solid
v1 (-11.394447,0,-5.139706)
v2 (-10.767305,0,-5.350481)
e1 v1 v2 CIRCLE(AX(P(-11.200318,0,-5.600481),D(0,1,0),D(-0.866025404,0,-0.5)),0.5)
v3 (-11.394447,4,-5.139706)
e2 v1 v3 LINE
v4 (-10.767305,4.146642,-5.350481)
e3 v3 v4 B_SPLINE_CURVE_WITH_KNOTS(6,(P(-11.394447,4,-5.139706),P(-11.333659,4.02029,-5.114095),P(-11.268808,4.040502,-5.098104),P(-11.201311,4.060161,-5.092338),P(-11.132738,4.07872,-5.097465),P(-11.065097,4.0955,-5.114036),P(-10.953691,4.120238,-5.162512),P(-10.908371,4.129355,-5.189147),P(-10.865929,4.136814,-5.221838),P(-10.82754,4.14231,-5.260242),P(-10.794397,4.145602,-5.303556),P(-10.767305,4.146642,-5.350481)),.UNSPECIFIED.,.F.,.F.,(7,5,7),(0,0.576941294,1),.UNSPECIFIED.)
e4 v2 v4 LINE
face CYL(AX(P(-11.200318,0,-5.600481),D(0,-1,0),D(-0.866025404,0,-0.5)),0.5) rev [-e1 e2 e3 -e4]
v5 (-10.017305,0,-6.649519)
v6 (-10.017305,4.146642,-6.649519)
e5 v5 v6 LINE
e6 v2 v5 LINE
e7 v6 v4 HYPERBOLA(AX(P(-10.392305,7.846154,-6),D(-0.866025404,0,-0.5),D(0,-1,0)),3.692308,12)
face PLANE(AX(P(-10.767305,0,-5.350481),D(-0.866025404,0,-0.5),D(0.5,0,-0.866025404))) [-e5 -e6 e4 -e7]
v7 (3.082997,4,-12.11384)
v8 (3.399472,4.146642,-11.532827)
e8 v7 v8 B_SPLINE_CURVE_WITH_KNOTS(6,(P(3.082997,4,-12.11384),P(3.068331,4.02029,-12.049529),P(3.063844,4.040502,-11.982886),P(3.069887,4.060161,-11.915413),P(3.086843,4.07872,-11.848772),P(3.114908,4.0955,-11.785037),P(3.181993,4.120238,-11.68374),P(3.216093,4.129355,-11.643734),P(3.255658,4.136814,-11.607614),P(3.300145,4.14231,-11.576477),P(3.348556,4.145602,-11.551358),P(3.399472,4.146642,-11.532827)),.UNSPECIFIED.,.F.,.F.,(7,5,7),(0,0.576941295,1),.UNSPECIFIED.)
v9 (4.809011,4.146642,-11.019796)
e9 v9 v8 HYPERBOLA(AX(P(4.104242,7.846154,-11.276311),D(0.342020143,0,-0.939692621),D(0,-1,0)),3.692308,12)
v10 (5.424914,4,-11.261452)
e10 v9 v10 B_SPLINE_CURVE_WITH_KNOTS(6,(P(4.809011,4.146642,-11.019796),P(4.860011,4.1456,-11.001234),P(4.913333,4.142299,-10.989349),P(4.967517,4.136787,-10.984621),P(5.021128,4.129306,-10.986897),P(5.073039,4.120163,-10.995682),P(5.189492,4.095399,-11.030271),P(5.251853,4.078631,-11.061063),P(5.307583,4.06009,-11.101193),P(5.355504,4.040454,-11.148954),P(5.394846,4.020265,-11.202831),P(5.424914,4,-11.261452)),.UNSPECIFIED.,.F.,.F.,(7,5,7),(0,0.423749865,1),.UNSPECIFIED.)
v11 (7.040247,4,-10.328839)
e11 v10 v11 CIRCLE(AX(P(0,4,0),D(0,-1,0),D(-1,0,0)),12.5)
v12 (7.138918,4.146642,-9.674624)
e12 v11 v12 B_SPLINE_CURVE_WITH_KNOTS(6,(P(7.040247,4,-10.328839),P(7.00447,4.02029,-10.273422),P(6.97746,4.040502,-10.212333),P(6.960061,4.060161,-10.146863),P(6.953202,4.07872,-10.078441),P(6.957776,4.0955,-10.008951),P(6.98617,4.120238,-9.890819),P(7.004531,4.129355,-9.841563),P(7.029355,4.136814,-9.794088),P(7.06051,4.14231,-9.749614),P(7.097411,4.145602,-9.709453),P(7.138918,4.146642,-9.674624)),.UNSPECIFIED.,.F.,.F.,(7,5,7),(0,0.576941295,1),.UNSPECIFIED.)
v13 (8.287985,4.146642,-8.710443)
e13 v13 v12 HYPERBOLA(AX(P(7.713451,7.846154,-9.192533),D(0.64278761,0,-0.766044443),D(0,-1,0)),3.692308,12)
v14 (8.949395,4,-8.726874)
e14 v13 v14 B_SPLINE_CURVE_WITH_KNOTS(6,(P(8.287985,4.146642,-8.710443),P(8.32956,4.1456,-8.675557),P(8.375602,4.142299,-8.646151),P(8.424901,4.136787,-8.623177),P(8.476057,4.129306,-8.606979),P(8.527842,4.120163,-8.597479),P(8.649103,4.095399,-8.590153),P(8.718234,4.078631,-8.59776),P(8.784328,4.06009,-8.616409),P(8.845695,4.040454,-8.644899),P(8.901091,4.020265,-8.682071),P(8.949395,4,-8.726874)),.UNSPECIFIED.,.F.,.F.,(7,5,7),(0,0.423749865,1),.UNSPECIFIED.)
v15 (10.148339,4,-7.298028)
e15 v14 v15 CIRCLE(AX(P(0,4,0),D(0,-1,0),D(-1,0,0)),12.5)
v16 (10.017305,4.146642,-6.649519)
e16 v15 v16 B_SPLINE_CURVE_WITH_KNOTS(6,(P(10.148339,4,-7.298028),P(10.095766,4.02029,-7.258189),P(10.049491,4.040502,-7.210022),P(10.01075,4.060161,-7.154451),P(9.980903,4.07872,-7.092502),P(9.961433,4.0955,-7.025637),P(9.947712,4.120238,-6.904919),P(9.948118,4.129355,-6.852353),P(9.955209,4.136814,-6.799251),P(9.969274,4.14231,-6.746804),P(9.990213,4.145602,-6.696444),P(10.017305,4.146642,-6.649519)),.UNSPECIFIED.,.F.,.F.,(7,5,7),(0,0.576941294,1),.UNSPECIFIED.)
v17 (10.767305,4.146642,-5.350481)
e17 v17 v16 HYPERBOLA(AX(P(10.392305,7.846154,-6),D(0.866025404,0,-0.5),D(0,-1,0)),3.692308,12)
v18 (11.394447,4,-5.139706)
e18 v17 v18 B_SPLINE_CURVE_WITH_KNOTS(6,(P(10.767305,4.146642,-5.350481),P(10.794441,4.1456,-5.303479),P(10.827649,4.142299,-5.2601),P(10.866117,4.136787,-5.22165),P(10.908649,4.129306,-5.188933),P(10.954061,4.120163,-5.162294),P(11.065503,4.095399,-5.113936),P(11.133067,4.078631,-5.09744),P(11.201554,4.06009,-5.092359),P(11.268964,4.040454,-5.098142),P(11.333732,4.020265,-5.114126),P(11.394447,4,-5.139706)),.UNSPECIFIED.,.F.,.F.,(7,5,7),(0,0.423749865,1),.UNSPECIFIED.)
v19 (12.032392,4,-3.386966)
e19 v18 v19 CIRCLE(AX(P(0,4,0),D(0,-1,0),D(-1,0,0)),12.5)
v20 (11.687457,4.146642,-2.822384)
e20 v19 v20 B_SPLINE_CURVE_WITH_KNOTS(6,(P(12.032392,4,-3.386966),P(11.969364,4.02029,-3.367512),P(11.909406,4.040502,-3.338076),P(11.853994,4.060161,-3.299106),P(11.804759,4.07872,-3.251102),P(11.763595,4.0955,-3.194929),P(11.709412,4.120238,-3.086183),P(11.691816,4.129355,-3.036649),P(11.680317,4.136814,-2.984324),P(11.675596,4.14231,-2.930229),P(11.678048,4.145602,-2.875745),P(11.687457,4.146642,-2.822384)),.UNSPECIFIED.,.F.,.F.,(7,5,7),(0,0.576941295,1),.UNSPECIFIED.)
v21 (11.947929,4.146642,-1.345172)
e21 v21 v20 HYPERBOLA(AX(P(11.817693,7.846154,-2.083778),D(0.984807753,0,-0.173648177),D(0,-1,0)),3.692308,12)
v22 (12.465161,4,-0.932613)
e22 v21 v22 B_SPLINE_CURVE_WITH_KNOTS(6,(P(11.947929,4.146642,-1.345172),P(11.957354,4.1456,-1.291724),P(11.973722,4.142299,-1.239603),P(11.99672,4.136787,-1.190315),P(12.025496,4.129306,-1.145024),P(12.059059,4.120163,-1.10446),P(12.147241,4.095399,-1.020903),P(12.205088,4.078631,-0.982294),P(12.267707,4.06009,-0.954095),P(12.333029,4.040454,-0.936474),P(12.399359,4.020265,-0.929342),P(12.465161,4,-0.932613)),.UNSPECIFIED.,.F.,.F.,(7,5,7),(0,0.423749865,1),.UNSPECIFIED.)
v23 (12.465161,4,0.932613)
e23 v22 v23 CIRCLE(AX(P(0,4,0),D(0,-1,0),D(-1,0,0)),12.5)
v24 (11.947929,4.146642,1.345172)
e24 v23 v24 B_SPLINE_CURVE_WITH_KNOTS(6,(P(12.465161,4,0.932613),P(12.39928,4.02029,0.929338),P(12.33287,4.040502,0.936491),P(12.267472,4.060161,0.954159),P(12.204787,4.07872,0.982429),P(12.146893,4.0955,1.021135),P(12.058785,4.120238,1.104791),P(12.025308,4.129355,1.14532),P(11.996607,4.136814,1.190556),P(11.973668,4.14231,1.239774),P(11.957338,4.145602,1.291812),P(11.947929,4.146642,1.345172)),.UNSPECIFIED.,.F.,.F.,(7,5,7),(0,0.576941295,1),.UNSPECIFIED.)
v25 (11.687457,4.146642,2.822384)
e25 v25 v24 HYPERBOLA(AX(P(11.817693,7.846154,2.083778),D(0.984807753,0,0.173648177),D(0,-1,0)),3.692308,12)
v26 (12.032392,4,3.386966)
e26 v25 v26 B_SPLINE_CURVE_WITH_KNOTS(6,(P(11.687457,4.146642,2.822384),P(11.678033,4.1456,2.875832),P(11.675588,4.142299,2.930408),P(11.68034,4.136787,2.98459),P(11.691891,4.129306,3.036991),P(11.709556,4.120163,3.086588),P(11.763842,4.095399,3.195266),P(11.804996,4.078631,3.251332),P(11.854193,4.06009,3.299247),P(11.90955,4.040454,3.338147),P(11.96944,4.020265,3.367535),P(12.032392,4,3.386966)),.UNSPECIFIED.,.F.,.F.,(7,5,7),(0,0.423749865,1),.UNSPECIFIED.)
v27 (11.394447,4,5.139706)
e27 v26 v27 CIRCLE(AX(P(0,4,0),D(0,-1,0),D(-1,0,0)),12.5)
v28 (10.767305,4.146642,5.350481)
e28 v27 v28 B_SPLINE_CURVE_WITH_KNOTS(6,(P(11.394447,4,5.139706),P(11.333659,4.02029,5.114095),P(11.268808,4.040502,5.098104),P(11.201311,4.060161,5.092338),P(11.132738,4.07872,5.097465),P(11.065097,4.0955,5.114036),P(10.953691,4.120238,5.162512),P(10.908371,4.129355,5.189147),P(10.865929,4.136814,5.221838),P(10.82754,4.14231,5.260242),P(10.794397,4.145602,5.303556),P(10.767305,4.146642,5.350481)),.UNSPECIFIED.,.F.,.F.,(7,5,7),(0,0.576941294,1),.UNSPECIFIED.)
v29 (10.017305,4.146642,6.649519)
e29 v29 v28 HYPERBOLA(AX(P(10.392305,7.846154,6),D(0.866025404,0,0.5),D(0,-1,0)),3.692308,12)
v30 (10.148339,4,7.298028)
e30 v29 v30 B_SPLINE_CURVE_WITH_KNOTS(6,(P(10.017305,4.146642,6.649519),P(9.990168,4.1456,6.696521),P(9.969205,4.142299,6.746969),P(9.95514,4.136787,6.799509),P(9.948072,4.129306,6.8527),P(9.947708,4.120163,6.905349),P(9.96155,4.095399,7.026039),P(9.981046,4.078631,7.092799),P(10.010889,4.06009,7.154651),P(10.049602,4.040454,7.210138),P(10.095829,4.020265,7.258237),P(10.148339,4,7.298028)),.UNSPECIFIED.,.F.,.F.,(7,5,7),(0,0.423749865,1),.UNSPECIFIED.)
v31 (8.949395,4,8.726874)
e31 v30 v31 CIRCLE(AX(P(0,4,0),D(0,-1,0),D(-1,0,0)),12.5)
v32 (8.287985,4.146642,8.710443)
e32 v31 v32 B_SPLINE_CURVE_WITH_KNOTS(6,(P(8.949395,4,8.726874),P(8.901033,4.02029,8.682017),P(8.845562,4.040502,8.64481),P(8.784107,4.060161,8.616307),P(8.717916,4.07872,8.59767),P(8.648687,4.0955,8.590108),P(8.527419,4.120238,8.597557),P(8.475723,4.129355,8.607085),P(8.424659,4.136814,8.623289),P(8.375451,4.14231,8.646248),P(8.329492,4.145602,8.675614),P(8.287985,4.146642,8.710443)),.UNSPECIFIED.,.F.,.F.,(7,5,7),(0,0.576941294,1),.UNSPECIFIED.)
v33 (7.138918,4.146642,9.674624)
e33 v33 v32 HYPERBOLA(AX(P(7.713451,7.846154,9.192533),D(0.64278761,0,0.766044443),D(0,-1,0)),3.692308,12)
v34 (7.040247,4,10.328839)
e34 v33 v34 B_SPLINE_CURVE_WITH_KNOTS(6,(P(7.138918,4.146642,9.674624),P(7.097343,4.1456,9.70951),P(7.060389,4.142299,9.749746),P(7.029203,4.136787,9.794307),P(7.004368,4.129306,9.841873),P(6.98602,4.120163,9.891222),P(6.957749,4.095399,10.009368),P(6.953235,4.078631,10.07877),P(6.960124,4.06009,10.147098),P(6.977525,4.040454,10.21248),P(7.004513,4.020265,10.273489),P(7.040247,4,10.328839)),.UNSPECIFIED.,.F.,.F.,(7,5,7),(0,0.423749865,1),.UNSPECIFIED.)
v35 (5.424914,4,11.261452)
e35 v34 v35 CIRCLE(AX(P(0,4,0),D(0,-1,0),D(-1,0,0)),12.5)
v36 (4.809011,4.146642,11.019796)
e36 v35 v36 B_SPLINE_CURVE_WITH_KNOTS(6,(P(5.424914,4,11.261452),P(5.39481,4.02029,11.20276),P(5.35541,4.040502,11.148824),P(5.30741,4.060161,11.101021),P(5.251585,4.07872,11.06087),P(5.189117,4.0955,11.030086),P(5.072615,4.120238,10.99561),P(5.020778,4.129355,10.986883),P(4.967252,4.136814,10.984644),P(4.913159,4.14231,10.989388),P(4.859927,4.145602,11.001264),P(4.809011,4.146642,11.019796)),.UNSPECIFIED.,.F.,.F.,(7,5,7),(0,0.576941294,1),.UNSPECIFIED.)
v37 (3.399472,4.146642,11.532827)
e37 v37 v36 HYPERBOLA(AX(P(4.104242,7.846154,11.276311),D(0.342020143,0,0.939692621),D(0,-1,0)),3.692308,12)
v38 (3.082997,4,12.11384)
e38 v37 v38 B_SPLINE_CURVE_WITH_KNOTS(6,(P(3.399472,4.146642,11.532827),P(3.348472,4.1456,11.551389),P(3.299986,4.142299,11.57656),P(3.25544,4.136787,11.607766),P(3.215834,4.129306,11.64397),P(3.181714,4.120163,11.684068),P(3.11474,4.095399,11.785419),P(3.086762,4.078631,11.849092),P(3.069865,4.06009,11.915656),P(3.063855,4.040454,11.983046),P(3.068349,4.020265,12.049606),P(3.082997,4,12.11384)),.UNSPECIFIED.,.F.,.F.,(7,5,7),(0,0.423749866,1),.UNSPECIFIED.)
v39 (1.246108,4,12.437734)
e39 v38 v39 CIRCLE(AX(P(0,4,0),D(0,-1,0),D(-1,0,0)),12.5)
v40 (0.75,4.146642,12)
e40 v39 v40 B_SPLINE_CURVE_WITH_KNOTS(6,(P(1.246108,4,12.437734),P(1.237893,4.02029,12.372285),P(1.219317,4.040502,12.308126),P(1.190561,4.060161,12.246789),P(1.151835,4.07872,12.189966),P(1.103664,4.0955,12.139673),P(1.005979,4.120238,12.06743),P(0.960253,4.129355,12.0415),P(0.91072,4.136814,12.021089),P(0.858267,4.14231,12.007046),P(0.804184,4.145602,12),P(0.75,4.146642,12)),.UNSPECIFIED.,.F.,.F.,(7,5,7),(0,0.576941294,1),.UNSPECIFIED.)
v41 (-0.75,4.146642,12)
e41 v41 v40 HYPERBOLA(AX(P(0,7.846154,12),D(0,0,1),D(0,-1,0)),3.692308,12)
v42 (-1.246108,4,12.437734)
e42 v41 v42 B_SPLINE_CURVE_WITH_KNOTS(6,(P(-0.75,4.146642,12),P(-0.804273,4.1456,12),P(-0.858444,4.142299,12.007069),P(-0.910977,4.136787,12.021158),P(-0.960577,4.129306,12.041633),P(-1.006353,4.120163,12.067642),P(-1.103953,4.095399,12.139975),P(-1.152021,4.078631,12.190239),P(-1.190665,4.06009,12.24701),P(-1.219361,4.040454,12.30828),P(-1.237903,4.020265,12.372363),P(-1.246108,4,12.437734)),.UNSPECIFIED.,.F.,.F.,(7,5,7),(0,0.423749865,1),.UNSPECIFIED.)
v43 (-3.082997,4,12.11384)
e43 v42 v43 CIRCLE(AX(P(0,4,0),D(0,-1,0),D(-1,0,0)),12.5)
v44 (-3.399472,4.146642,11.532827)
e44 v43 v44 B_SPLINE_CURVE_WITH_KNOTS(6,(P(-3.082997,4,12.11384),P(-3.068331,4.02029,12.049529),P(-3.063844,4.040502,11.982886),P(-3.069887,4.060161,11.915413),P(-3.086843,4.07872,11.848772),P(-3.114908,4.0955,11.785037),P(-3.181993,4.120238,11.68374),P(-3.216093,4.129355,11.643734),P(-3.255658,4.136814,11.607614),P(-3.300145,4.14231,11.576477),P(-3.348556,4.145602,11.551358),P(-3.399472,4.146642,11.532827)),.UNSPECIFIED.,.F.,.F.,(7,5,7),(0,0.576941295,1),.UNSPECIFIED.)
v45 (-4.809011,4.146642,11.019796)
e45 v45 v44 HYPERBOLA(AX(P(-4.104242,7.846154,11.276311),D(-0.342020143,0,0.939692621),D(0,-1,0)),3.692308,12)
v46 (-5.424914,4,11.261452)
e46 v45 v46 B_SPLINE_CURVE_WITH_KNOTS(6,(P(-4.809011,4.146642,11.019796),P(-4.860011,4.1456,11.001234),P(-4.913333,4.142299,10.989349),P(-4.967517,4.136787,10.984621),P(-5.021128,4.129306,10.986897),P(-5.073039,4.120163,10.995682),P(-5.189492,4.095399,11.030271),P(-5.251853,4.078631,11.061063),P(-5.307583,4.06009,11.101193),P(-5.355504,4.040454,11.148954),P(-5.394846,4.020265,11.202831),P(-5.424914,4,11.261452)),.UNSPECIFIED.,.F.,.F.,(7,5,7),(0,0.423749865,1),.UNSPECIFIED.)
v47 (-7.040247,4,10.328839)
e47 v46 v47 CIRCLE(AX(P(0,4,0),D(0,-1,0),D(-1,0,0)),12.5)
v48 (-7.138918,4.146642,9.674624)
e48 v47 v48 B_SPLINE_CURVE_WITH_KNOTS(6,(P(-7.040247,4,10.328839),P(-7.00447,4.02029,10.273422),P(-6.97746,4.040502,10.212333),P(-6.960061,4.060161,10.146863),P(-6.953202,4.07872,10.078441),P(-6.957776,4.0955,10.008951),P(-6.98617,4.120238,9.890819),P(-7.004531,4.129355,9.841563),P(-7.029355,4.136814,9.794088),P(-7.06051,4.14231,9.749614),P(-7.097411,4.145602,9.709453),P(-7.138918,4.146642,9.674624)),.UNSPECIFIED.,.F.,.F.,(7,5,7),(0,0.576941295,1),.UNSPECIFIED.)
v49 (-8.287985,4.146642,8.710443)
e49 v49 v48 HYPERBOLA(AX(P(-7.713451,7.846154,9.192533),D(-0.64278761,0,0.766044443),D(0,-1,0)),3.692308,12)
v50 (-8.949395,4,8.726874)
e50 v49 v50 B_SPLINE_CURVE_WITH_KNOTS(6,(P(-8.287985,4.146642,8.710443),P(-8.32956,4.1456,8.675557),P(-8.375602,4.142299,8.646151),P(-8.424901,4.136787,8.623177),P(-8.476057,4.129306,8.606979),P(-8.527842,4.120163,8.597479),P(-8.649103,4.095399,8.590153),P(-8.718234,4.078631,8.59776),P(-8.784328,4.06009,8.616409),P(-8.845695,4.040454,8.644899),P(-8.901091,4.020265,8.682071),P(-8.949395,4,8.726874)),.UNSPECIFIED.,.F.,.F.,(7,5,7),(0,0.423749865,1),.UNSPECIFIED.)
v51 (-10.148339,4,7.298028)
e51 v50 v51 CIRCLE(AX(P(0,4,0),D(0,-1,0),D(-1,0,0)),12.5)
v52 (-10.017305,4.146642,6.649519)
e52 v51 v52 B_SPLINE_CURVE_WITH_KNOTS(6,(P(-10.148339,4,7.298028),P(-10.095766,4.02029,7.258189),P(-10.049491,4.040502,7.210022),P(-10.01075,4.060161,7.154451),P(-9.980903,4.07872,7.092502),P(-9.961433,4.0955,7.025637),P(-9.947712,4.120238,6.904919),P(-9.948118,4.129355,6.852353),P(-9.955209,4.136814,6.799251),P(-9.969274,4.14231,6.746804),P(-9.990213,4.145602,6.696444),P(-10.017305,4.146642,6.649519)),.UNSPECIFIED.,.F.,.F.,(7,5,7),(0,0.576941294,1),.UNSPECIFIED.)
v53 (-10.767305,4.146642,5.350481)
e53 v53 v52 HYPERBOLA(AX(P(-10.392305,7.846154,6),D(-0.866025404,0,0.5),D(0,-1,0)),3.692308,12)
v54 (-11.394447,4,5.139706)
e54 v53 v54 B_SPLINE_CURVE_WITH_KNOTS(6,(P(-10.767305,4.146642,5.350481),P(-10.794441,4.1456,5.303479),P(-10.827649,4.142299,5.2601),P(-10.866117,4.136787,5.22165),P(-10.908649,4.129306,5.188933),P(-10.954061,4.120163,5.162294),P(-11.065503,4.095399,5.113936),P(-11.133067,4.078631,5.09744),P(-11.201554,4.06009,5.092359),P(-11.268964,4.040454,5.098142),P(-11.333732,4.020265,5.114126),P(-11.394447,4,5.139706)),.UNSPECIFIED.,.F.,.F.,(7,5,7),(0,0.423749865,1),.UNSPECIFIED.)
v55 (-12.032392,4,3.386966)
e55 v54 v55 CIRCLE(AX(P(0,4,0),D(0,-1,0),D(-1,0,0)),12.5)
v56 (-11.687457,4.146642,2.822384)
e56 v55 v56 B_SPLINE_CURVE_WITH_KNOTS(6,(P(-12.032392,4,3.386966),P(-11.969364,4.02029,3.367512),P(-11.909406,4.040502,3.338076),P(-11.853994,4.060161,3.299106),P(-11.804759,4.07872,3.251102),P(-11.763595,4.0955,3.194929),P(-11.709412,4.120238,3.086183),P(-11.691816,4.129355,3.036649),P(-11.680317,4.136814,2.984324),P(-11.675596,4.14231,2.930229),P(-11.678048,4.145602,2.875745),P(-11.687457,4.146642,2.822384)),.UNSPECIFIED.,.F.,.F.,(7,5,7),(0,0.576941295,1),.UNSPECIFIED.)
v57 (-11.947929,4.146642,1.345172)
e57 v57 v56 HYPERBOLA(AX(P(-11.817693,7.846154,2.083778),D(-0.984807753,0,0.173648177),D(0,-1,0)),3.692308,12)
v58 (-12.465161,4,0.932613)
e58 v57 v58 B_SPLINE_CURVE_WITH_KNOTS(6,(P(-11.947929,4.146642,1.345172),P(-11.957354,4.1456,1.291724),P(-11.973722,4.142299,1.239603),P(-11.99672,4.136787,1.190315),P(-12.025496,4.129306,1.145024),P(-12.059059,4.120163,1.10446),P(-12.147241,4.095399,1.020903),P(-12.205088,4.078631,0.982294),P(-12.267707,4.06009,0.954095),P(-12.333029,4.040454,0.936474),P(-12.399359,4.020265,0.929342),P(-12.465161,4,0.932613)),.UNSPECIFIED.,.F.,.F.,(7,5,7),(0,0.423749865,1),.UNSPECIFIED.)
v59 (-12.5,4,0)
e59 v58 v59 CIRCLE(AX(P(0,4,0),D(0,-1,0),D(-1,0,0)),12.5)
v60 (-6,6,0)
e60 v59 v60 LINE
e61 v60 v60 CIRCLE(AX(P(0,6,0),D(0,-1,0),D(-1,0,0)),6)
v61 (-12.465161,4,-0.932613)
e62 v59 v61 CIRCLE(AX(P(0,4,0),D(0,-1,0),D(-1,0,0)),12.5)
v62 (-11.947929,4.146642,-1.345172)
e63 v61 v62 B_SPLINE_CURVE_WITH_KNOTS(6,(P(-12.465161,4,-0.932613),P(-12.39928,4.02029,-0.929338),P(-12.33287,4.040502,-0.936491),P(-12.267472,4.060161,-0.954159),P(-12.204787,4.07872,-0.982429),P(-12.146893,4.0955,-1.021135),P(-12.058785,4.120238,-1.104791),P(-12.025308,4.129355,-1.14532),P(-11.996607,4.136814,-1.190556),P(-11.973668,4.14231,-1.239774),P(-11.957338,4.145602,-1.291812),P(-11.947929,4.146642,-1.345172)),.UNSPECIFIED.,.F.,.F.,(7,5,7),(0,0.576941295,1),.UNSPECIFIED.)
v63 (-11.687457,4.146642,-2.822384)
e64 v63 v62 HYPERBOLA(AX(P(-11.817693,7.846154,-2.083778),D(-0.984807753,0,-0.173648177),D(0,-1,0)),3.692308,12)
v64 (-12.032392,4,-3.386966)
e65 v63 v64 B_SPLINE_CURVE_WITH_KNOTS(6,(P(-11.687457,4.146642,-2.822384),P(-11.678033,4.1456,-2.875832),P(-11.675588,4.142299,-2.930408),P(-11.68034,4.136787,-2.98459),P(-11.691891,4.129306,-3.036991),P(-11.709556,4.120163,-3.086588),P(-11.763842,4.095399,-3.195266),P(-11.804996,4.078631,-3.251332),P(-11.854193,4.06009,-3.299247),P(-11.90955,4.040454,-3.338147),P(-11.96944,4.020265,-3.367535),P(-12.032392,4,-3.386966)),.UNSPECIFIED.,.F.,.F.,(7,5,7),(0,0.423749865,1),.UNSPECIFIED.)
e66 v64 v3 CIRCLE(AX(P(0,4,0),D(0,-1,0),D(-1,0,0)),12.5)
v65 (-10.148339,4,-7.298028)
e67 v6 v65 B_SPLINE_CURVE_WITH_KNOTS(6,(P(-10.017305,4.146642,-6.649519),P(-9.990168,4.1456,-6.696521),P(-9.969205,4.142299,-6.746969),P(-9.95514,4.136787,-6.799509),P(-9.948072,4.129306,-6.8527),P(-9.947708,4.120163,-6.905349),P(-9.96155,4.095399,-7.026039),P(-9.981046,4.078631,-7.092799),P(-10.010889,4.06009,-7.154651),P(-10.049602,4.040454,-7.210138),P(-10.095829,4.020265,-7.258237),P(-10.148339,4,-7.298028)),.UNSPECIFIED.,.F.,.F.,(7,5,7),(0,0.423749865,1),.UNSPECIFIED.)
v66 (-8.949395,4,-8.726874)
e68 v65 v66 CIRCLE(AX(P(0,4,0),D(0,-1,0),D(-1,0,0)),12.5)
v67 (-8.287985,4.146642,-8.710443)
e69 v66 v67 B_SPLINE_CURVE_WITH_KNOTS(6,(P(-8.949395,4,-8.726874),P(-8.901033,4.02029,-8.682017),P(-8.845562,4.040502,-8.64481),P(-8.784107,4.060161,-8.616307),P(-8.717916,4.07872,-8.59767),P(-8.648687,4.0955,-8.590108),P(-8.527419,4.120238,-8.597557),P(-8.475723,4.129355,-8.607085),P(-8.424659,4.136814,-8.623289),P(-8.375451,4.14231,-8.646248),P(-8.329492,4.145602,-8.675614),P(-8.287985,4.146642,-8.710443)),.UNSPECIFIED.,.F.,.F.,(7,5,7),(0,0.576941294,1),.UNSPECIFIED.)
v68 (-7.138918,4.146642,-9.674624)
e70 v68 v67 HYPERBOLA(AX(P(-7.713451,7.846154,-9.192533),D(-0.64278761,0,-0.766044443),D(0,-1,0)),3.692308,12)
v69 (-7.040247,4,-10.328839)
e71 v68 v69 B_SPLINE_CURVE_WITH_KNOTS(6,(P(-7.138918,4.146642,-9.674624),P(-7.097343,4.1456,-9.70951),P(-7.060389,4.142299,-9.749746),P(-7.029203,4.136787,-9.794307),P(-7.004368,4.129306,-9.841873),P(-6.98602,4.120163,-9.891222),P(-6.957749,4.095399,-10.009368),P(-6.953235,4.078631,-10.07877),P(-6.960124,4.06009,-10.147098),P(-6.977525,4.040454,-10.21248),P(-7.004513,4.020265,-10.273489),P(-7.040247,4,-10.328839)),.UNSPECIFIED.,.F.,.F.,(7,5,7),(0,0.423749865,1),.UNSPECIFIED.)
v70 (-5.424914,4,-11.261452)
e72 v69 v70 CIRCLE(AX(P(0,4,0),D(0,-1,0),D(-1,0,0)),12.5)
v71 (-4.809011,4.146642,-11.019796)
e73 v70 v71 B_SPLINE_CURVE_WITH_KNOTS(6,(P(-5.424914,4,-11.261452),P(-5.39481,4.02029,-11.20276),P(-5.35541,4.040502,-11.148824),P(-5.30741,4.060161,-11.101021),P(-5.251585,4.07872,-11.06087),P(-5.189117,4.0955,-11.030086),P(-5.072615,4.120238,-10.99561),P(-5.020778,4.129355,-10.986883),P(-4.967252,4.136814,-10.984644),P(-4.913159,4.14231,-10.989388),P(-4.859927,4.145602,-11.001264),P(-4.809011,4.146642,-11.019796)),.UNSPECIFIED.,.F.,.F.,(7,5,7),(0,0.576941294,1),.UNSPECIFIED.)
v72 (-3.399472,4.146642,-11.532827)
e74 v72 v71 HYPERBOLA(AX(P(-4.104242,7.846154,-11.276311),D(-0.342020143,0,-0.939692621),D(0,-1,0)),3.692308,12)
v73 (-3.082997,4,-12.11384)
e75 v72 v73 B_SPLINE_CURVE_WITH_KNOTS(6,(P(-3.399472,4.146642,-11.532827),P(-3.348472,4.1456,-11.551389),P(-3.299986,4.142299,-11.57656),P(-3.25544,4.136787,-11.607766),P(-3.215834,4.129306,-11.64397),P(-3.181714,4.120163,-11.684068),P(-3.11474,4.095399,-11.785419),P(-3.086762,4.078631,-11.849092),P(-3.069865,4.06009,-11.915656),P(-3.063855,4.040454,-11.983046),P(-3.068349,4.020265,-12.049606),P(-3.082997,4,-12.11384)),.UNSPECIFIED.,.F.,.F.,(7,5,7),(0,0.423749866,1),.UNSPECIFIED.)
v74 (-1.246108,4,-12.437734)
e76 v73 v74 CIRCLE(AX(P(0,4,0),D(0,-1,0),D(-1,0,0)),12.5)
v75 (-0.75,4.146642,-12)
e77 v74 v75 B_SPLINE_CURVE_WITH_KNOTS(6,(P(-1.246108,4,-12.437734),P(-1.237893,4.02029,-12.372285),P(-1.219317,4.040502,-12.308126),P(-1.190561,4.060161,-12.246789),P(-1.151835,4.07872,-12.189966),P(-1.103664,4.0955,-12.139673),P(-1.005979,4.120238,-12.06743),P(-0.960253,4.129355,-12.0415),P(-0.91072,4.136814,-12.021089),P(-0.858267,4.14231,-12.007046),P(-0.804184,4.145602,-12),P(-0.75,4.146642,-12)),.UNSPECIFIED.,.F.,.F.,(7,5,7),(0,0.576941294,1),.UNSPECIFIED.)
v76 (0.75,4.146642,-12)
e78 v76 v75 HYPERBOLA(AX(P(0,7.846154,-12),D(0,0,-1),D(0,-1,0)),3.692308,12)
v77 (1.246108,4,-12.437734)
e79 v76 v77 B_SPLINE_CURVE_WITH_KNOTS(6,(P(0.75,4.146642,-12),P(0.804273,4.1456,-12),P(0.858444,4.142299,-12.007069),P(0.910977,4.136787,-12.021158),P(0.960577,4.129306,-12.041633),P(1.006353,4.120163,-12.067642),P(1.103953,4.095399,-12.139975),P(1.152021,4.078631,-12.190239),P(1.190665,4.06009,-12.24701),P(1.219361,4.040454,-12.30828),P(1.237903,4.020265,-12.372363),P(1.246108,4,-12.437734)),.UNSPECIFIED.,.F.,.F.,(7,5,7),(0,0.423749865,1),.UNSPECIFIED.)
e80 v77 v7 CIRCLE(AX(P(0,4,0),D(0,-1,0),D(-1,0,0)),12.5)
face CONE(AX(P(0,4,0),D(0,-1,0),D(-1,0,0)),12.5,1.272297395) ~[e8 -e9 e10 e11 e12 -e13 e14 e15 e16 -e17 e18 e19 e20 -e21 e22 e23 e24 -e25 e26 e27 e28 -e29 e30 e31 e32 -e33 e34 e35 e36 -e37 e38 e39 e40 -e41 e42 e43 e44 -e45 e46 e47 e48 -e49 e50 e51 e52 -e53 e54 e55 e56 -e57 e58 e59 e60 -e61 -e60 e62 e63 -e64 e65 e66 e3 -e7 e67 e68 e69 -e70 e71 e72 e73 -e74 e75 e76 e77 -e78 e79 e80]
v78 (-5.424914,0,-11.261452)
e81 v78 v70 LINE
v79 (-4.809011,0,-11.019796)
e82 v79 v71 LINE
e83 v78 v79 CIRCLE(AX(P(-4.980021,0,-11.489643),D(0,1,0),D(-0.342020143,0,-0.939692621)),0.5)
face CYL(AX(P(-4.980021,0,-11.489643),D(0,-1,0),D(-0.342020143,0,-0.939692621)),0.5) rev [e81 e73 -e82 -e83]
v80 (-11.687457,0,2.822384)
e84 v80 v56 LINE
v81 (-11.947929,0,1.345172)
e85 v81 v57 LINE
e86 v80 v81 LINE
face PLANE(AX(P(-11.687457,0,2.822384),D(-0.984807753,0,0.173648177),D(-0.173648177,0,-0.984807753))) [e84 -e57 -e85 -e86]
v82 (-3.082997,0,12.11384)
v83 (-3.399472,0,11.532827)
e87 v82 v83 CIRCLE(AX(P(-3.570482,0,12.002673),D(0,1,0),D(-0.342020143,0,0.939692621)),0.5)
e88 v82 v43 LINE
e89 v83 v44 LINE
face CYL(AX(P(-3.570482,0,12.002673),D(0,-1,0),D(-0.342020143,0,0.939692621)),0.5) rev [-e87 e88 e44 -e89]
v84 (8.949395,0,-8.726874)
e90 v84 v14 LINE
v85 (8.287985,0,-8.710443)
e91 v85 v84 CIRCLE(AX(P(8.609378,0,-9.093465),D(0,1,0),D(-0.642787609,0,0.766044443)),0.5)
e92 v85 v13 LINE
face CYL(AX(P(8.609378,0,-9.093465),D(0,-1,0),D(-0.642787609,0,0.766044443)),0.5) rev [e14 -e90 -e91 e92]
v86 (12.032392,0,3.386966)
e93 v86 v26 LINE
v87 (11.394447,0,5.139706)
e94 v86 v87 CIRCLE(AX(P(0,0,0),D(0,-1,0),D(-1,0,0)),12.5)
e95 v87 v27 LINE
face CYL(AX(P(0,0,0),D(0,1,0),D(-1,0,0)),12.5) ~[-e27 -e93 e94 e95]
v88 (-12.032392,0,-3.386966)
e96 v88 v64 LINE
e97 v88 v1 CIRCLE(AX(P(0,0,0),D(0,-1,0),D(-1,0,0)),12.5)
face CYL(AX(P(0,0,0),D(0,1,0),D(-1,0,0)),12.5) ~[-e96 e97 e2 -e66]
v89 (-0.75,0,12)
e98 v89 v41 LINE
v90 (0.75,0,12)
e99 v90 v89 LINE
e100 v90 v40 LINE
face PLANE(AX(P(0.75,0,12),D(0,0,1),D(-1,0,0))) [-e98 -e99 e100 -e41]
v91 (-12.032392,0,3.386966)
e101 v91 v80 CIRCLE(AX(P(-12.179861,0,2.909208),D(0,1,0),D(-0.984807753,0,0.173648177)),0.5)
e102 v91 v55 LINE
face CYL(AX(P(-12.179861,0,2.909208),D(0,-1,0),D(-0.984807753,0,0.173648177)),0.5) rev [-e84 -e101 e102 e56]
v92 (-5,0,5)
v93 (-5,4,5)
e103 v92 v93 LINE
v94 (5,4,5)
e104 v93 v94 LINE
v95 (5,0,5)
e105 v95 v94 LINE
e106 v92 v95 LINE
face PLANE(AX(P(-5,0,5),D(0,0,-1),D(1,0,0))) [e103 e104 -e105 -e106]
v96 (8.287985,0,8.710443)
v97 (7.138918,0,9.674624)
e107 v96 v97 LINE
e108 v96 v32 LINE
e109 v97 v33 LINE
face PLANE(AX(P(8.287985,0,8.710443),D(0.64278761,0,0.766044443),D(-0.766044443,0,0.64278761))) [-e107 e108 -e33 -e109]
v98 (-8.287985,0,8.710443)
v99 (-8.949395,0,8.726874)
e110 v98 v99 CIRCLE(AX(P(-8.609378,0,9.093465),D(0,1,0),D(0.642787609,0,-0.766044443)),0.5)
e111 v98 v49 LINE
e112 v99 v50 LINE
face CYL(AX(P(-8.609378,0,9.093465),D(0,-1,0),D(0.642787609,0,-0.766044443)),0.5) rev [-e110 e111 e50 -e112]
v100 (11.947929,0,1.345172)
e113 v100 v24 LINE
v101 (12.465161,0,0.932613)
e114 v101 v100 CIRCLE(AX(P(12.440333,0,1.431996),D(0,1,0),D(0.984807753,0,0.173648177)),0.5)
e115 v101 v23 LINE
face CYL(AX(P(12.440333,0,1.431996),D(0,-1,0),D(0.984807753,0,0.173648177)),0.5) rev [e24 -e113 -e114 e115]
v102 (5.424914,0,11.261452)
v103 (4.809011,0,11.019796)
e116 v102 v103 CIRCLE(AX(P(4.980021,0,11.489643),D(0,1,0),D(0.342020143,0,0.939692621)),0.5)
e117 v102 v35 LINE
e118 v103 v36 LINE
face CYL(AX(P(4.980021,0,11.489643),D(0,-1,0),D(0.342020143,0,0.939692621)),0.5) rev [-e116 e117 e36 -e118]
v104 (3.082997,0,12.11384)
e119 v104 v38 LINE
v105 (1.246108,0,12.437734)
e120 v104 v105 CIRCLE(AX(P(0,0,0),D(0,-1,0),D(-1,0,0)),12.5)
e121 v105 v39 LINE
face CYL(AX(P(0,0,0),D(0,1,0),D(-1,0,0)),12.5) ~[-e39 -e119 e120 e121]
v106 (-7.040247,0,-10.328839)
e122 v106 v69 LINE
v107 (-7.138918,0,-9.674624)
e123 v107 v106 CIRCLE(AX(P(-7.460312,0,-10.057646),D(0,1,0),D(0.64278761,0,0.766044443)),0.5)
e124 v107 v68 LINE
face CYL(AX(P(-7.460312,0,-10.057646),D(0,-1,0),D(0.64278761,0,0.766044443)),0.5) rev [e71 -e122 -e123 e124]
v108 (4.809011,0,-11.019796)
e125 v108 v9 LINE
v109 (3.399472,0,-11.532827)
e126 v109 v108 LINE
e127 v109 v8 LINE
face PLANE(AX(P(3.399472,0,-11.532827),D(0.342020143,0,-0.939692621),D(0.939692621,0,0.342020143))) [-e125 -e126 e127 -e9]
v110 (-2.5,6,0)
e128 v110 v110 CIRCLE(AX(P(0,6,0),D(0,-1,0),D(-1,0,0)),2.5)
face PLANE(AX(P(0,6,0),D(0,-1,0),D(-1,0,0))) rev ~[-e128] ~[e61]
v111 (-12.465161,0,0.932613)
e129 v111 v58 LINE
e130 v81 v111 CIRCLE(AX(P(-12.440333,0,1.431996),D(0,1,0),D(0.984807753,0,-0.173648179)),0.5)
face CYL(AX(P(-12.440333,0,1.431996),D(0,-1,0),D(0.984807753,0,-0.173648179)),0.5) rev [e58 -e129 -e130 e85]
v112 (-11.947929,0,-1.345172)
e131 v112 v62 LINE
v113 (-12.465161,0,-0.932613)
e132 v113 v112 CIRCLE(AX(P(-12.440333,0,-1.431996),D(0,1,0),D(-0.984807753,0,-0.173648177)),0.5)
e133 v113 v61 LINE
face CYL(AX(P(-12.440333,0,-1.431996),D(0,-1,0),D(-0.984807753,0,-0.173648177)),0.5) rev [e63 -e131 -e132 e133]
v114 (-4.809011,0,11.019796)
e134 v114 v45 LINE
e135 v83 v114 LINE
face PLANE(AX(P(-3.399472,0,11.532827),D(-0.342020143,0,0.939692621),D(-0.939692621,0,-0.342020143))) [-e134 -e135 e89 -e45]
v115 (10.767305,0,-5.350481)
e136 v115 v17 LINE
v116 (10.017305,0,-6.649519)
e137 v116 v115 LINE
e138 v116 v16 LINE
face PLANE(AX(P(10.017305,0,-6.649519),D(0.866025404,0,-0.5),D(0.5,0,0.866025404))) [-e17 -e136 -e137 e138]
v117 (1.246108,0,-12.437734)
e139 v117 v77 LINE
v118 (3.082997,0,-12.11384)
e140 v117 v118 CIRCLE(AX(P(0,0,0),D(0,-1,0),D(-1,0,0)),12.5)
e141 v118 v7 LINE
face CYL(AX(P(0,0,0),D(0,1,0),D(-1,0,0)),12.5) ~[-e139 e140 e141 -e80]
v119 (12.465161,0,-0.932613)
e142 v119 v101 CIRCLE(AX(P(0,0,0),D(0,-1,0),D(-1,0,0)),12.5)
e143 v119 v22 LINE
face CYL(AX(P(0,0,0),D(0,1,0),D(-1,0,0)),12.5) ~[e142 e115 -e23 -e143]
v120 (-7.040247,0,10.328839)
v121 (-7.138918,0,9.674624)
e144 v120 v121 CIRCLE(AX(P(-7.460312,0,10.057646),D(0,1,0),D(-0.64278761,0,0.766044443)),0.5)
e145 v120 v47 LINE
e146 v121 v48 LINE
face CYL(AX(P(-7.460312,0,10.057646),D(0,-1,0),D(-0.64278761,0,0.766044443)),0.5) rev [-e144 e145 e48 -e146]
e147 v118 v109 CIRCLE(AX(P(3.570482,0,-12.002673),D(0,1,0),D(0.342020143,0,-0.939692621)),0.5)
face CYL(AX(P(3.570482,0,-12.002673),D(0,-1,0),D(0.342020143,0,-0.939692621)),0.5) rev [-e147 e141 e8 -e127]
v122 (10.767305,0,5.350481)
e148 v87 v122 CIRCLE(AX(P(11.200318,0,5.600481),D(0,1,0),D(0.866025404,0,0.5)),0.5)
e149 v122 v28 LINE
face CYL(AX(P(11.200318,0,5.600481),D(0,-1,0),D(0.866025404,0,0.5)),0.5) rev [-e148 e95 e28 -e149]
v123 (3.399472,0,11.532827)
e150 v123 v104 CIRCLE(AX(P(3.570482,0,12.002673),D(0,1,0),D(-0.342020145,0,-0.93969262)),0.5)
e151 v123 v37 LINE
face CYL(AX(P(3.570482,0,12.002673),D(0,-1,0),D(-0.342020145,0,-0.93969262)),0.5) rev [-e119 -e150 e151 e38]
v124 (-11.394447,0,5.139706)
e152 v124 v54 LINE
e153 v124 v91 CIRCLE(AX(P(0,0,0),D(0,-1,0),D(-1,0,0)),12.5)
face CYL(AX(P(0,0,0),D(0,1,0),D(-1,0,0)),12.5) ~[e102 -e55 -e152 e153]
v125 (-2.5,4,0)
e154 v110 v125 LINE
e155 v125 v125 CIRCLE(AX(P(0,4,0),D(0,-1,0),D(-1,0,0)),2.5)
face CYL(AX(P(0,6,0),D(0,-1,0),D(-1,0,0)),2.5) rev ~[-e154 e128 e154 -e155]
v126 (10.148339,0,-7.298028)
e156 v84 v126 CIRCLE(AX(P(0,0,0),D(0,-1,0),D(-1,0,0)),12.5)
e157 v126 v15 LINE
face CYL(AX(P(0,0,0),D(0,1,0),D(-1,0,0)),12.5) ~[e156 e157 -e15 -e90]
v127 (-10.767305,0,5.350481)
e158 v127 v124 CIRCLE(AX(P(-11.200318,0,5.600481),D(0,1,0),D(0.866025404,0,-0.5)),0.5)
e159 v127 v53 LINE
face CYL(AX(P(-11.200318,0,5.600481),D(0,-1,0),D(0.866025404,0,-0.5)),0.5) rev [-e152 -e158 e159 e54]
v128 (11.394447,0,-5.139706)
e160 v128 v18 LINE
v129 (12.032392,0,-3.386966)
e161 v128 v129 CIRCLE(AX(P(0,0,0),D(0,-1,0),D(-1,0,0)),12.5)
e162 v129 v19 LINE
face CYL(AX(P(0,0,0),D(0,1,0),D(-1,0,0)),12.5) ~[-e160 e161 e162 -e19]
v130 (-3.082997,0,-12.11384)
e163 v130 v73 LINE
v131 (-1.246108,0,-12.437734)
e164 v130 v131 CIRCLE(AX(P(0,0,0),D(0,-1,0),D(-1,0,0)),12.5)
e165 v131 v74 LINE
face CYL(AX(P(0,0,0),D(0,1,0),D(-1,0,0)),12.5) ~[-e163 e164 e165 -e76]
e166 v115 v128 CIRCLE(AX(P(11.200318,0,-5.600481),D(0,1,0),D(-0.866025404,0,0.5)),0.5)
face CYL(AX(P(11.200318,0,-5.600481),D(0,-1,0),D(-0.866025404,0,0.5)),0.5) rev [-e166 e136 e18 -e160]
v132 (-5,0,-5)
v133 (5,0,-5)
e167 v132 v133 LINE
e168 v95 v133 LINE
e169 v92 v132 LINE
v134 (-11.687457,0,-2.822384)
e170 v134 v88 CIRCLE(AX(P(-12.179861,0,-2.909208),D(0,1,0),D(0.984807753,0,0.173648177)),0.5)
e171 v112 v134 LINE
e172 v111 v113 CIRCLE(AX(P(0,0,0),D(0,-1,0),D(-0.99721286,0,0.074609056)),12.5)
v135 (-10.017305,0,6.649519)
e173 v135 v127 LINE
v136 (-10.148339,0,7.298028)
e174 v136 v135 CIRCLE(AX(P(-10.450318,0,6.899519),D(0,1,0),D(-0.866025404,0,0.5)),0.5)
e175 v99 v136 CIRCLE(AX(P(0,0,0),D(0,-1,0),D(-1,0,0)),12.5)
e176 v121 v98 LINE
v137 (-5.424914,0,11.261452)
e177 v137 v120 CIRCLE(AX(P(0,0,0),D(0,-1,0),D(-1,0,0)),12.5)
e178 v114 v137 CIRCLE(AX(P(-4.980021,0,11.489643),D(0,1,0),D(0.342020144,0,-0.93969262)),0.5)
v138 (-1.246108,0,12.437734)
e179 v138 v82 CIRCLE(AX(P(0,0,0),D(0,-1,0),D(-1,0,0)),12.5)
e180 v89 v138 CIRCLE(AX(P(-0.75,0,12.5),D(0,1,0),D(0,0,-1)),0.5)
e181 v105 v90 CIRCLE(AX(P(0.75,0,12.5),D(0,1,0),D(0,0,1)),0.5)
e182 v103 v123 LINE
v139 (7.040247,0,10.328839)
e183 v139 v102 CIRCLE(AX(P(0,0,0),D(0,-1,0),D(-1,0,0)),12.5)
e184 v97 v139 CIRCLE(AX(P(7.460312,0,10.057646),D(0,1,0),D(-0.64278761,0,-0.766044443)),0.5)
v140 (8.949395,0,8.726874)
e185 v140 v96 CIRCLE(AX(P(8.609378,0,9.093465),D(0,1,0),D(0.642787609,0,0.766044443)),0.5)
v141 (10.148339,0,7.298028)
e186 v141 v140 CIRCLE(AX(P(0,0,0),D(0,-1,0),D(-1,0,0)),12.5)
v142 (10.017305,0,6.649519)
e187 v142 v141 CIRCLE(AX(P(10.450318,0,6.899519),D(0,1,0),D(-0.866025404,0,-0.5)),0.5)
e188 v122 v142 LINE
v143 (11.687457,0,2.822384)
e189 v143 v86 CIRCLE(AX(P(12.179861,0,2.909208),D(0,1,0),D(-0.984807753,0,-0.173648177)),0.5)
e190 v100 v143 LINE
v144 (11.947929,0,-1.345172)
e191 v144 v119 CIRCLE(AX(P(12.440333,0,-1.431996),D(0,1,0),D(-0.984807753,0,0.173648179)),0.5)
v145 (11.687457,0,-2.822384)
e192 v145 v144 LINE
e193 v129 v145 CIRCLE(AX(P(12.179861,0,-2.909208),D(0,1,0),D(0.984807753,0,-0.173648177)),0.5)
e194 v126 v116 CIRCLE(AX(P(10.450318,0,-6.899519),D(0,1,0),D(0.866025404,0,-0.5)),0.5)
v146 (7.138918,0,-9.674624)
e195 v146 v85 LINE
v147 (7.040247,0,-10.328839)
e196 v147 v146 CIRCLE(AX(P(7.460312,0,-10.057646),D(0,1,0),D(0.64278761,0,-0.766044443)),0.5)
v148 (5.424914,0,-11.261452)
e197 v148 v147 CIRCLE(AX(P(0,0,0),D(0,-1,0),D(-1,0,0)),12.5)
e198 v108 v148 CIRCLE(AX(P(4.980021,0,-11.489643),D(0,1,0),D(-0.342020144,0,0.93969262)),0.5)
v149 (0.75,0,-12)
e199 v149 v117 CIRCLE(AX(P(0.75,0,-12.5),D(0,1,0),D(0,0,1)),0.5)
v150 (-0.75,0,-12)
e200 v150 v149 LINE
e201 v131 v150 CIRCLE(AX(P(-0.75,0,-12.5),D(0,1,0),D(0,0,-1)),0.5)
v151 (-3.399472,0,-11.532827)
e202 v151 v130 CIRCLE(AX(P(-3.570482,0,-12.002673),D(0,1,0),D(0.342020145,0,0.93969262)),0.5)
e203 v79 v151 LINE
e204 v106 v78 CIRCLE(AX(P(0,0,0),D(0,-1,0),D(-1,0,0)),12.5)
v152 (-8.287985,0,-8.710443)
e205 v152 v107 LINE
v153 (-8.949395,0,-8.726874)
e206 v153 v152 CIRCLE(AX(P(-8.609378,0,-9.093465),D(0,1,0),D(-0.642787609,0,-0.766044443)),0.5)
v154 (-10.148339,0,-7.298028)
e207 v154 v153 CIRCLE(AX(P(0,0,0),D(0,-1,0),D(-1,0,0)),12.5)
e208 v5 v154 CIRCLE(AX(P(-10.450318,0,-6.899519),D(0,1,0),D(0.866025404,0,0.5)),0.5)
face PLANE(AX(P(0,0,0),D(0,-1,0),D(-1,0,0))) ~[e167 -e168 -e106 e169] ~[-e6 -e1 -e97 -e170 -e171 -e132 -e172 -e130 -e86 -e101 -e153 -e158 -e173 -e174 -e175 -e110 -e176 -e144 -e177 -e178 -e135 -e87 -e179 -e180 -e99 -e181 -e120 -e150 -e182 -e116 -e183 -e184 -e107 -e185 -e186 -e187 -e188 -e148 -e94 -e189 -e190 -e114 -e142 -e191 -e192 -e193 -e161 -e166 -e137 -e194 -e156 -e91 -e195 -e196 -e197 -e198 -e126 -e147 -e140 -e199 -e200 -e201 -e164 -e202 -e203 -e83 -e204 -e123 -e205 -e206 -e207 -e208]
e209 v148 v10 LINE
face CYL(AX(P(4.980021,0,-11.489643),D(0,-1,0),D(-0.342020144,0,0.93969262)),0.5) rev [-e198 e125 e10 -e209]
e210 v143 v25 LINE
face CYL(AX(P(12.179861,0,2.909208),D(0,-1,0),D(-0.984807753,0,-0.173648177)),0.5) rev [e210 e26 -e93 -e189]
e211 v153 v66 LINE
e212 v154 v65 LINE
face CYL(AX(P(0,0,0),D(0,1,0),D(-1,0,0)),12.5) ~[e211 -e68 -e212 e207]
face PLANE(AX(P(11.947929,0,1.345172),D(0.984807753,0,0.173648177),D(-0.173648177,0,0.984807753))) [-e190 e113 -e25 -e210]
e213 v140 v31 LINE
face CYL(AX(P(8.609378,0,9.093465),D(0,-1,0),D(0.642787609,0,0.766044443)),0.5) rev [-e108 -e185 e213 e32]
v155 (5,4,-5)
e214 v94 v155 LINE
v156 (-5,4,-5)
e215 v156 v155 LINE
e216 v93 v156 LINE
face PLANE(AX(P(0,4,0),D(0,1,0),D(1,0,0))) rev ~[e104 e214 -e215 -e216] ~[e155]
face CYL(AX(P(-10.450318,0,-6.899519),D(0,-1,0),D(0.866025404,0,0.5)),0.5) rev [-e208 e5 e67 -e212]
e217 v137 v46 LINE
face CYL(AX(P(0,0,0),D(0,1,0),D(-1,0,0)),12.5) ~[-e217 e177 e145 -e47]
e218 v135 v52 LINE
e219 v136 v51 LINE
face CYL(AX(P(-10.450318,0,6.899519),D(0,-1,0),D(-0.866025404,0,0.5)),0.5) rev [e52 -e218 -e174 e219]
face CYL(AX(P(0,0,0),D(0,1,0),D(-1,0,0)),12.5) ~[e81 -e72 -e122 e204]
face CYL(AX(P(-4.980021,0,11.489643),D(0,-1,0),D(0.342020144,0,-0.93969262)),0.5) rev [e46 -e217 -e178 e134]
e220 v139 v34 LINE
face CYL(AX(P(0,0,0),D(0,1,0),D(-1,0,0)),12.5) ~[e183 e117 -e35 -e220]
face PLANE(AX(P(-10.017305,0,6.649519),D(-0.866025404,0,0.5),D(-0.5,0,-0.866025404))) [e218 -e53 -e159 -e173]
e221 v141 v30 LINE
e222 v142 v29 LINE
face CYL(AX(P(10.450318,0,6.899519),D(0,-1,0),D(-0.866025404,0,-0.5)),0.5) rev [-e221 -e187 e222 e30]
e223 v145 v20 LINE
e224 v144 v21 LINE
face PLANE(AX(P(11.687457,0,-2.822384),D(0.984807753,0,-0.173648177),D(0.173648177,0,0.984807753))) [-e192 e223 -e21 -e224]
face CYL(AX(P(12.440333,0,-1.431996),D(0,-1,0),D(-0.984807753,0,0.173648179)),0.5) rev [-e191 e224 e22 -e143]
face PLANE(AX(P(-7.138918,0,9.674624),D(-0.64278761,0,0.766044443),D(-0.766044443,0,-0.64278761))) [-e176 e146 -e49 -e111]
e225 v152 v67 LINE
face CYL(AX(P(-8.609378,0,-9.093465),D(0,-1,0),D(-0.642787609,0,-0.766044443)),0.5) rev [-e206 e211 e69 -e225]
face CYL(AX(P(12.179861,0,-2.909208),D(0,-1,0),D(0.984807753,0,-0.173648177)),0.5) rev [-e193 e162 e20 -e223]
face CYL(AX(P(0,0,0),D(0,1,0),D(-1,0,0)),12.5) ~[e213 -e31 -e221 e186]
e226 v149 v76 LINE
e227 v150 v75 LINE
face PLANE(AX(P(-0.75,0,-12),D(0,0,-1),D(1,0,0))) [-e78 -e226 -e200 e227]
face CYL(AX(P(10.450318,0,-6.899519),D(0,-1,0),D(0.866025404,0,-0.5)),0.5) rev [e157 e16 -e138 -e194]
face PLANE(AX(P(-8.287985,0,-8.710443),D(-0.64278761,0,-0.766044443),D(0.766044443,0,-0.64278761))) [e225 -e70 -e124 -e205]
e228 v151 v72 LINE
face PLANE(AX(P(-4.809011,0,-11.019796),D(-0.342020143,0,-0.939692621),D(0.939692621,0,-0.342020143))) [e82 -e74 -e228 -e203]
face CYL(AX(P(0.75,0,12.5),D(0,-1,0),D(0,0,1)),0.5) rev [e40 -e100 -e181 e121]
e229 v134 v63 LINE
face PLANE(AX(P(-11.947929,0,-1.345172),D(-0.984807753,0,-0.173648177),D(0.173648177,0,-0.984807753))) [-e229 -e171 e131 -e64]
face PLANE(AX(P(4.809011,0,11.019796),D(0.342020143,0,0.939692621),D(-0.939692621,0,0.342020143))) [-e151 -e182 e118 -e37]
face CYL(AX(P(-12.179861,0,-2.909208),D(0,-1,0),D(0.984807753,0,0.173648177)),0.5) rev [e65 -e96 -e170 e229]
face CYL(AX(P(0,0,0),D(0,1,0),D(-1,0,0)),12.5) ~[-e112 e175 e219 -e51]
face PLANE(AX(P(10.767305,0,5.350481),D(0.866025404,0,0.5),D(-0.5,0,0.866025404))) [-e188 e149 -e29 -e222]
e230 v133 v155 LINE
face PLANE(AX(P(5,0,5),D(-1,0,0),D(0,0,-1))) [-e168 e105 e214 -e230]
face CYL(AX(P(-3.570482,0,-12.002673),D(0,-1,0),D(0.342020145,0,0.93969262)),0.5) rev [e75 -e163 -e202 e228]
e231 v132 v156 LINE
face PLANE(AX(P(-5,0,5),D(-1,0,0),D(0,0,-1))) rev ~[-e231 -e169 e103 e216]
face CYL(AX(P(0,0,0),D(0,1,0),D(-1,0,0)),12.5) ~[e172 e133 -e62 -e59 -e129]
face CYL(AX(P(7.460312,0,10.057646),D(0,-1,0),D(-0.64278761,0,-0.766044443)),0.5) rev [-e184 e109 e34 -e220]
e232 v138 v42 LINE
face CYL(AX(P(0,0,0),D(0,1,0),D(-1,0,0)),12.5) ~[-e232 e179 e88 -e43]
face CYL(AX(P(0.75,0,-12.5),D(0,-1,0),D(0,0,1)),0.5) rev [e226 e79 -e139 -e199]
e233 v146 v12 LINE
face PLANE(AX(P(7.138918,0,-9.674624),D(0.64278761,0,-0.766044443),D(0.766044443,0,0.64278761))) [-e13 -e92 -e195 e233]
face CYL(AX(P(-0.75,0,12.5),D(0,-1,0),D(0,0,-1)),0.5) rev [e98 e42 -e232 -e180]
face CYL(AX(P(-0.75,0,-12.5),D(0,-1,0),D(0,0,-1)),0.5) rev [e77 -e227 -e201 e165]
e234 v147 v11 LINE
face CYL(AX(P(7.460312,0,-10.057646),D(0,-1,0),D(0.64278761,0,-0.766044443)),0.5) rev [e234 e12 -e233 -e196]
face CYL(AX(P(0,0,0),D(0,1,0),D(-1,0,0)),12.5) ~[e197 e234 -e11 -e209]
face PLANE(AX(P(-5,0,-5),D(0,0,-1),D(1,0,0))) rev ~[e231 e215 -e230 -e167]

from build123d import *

# Parameters (mm, degrees)
CUT_EXTRUDE1_DEPTH = 10
SKETCH4_W          = 10
SKETCH4_H          = 10
CUT_EXTRUDE2_DEPTH = 4


with BuildPart() as part:
    # Sketch1 → Revolve1 (revolve)
    with BuildSketch(Plane.XY, mode=Mode.PRIVATE) as revolve1_sk:
        Polygon((2.5, 0), (12.5, 0), (12.5, 4), (6, 6), (2.5, 6), align=None)
    revolve(revolve1_sk.sketch.rotate(Axis((0, 6, 0), (0, -1, 0)), 180), axis=Axis((0, 6, 0), (0, -1, 0)))

    # Sketch2 → Cut-Extrude1 (cut)
    with BuildSketch(Plane.XZ):
        with BuildLine():
            Line((-0.75, 13), (0.75, 13))
            ThreePointArc((0.75, 13), (1.25, 12.5), (0.75, 12))
            Line((0.75, 12), (-0.75, 12))
            ThreePointArc((-0.75, 12), (-1.25, 12.5), (-0.75, 13))
        make_face()
        with BuildLine():
            Line((3.741492398, 12.472519178), (5.151031329, 11.959488963))
            ThreePointArc((5.151031329, 11.959488963), (5.449867568, 11.318632581), (4.809011185, 11.019796342))
            Line((4.809011185, 11.019796342), (3.399472254, 11.532826557))
            ThreePointArc((3.399472254, 11.532826557), (3.100636016, 12.173682939), (3.741492398, 12.472519178))
        make_face()
        with BuildLine():
            Line((7.781705594, 10.440668468), (8.930772258, 9.476487053))
            ThreePointArc((8.930772258, 9.476487053), (8.992400675, 8.772071027), (8.287984649, 8.71044261))
            Line((8.287984649, 8.71044261), (7.138917984, 9.674624025))
            ThreePointArc((7.138917984, 9.674624025), (7.077289567, 10.379040051), (7.781705594, 10.440668468))
        make_face()
        with BuildLine():
            Line((10.883330249, 7.149519053), (11.633330249, 5.850480947))
            ThreePointArc((11.633330249, 5.850480947), (11.450317547, 5.167468245), (10.767304845, 5.350480947))
            Line((10.767304845, 5.350480947), (10.017304845, 6.649519053))
            ThreePointArc((10.017304845, 6.649519053), (10.200317547, 7.332531755), (10.883330249, 7.149519053))
        make_face()
        with BuildLine():
            Line((12.672264656, 2.996032124), (12.932736922, 1.518820495))
            ThreePointArc((12.932736922, 1.518820495), (12.527157135, 0.93959253), (11.947929169, 1.345172317))
            Line((11.947929169, 1.345172317), (11.687456903, 2.822383947))
            ThreePointArc((11.687456903, 2.822383947), (12.093036691, 3.401611912), (12.672264656, 2.996032124))
        make_face()
        with BuildLine():
            Line((12.932736922, -1.518820495), (12.672264656, -2.996032124))
            ThreePointArc((12.672264656, -2.996032124), (12.093036691, -3.401611912), (11.687456903, -2.822383947))
            Line((11.687456903, -2.822383947), (11.947929169, -1.345172317))
            ThreePointArc((11.947929169, -1.345172317), (12.527157135, -0.93959253), (12.932736922, -1.518820495))
        make_face()
        with BuildLine():
            Line((11.633330249, -5.850480947), (10.883330249, -7.149519053))
            ThreePointArc((10.883330249, -7.149519053), (10.200317547, -7.332531755), (10.017304845, -6.649519053))
            Line((10.017304845, -6.649519053), (10.767304845, -5.350480947))
            ThreePointArc((10.767304845, -5.350480947), (11.450317547, -5.167468245), (11.633330249, -5.850480947))
        make_face()
        with BuildLine():
            Line((8.930772258, -9.476487053), (7.781705594, -10.440668468))
            ThreePointArc((7.781705594, -10.440668468), (7.077289567, -10.379040051), (7.138917984, -9.674624025))
            Line((7.138917984, -9.674624025), (8.287984649, -8.71044261))
            ThreePointArc((8.287984649, -8.71044261), (8.992400675, -8.772071027), (8.930772258, -9.476487053))
        make_face()
        with BuildLine():
            Line((5.151031329, -11.959488963), (3.741492398, -12.472519178))
            ThreePointArc((3.741492398, -12.472519178), (3.100636016, -12.173682939), (3.399472254, -11.532826557))
            Line((3.399472254, -11.532826557), (4.809011185, -11.019796342))
            ThreePointArc((4.809011185, -11.019796342), (5.449867568, -11.318632581), (5.151031329, -11.959488963))
        make_face()
        with BuildLine():
            Line((0.75, -13), (-0.75, -13))
            ThreePointArc((-0.75, -13), (-1.25, -12.5), (-0.75, -12))
            Line((-0.75, -12), (0.75, -12))
            ThreePointArc((0.75, -12), (1.25, -12.5), (0.75, -13))
        make_face()
        with BuildLine():
            Line((-3.741492398, -12.472519178), (-5.151031329, -11.959488963))
            ThreePointArc((-5.151031329, -11.959488963), (-5.449867568, -11.318632581), (-4.809011185, -11.019796342))
            Line((-4.809011185, -11.019796342), (-3.399472254, -11.532826557))
            ThreePointArc((-3.399472254, -11.532826557), (-3.100636016, -12.173682939), (-3.741492398, -12.472519178))
        make_face()
        with BuildLine():
            Line((-7.781705594, -10.440668468), (-8.930772258, -9.476487053))
            ThreePointArc((-8.930772258, -9.476487053), (-8.992400675, -8.772071027), (-8.287984649, -8.71044261))
            Line((-8.287984649, -8.71044261), (-7.138917984, -9.674624025))
            ThreePointArc((-7.138917984, -9.674624025), (-7.077289567, -10.379040051), (-7.781705594, -10.440668468))
        make_face()
        with BuildLine():
            Line((-10.883330249, -7.149519053), (-11.633330249, -5.850480947))
            ThreePointArc((-11.633330249, -5.850480947), (-11.450317547, -5.167468245), (-10.767304845, -5.350480947))
            Line((-10.767304845, -5.350480947), (-10.017304845, -6.649519053))
            ThreePointArc((-10.017304845, -6.649519053), (-10.200317547, -7.332531755), (-10.883330249, -7.149519053))
        make_face()
        with BuildLine():
            Line((-12.672264656, -2.996032124), (-12.932736922, -1.518820495))
            ThreePointArc((-12.932736922, -1.518820495), (-12.527157135, -0.93959253), (-11.947929169, -1.345172317))
            Line((-11.947929169, -1.345172317), (-11.687456903, -2.822383947))
            ThreePointArc((-11.687456903, -2.822383947), (-12.093036691, -3.401611912), (-12.672264656, -2.996032124))
        make_face()
        with BuildLine():
            Line((-12.932736922, 1.518820495), (-12.672264656, 2.996032124))
            ThreePointArc((-12.672264656, 2.996032124), (-12.093036691, 3.401611912), (-11.687456903, 2.822383947))
            Line((-11.687456903, 2.822383947), (-11.947929169, 1.345172317))
            ThreePointArc((-11.947929169, 1.345172317), (-12.527157135, 0.93959253), (-12.932736922, 1.518820495))
        make_face()
        with BuildLine():
            Line((-11.633330249, 5.850480947), (-10.883330249, 7.149519053))
            ThreePointArc((-10.883330249, 7.149519053), (-10.200317547, 7.332531755), (-10.017304845, 6.649519053))
            Line((-10.017304845, 6.649519053), (-10.767304845, 5.350480947))
            ThreePointArc((-10.767304845, 5.350480947), (-11.450317547, 5.167468245), (-11.633330249, 5.850480947))
        make_face()
        with BuildLine():
            Line((-8.930772258, 9.476487053), (-7.781705594, 10.440668468))
            ThreePointArc((-7.781705594, 10.440668468), (-7.077289567, 10.379040051), (-7.138917984, 9.674624025))
            Line((-7.138917984, 9.674624025), (-8.287984649, 8.71044261))
            ThreePointArc((-8.287984649, 8.71044261), (-8.992400675, 8.772071027), (-8.930772258, 9.476487053))
        make_face()
        with BuildLine():
            Line((-5.151031329, 11.959488963), (-3.741492398, 12.472519178))
            ThreePointArc((-3.741492398, 12.472519178), (-3.100636016, 12.173682939), (-3.399472254, 11.532826557))
            Line((-3.399472254, 11.532826557), (-4.809011185, 11.019796342))
            ThreePointArc((-4.809011185, 11.019796342), (-5.449867568, 11.318632581), (-5.151031329, 11.959488963))
        make_face()
    extrude(amount=-CUT_EXTRUDE1_DEPTH, mode=Mode.SUBTRACT)

    # Sketch4 → Cut-Extrude2 (cut)
    with BuildSketch(Plane(origin=(0, 0, 0), x_dir=(1, 0, 0), z_dir=(0, 1, 0))):
        Rectangle(SKETCH4_W, SKETCH4_H)
    extrude(amount=CUT_EXTRUDE2_DEPTH, mode=Mode.SUBTRACT)


solid = part.part
